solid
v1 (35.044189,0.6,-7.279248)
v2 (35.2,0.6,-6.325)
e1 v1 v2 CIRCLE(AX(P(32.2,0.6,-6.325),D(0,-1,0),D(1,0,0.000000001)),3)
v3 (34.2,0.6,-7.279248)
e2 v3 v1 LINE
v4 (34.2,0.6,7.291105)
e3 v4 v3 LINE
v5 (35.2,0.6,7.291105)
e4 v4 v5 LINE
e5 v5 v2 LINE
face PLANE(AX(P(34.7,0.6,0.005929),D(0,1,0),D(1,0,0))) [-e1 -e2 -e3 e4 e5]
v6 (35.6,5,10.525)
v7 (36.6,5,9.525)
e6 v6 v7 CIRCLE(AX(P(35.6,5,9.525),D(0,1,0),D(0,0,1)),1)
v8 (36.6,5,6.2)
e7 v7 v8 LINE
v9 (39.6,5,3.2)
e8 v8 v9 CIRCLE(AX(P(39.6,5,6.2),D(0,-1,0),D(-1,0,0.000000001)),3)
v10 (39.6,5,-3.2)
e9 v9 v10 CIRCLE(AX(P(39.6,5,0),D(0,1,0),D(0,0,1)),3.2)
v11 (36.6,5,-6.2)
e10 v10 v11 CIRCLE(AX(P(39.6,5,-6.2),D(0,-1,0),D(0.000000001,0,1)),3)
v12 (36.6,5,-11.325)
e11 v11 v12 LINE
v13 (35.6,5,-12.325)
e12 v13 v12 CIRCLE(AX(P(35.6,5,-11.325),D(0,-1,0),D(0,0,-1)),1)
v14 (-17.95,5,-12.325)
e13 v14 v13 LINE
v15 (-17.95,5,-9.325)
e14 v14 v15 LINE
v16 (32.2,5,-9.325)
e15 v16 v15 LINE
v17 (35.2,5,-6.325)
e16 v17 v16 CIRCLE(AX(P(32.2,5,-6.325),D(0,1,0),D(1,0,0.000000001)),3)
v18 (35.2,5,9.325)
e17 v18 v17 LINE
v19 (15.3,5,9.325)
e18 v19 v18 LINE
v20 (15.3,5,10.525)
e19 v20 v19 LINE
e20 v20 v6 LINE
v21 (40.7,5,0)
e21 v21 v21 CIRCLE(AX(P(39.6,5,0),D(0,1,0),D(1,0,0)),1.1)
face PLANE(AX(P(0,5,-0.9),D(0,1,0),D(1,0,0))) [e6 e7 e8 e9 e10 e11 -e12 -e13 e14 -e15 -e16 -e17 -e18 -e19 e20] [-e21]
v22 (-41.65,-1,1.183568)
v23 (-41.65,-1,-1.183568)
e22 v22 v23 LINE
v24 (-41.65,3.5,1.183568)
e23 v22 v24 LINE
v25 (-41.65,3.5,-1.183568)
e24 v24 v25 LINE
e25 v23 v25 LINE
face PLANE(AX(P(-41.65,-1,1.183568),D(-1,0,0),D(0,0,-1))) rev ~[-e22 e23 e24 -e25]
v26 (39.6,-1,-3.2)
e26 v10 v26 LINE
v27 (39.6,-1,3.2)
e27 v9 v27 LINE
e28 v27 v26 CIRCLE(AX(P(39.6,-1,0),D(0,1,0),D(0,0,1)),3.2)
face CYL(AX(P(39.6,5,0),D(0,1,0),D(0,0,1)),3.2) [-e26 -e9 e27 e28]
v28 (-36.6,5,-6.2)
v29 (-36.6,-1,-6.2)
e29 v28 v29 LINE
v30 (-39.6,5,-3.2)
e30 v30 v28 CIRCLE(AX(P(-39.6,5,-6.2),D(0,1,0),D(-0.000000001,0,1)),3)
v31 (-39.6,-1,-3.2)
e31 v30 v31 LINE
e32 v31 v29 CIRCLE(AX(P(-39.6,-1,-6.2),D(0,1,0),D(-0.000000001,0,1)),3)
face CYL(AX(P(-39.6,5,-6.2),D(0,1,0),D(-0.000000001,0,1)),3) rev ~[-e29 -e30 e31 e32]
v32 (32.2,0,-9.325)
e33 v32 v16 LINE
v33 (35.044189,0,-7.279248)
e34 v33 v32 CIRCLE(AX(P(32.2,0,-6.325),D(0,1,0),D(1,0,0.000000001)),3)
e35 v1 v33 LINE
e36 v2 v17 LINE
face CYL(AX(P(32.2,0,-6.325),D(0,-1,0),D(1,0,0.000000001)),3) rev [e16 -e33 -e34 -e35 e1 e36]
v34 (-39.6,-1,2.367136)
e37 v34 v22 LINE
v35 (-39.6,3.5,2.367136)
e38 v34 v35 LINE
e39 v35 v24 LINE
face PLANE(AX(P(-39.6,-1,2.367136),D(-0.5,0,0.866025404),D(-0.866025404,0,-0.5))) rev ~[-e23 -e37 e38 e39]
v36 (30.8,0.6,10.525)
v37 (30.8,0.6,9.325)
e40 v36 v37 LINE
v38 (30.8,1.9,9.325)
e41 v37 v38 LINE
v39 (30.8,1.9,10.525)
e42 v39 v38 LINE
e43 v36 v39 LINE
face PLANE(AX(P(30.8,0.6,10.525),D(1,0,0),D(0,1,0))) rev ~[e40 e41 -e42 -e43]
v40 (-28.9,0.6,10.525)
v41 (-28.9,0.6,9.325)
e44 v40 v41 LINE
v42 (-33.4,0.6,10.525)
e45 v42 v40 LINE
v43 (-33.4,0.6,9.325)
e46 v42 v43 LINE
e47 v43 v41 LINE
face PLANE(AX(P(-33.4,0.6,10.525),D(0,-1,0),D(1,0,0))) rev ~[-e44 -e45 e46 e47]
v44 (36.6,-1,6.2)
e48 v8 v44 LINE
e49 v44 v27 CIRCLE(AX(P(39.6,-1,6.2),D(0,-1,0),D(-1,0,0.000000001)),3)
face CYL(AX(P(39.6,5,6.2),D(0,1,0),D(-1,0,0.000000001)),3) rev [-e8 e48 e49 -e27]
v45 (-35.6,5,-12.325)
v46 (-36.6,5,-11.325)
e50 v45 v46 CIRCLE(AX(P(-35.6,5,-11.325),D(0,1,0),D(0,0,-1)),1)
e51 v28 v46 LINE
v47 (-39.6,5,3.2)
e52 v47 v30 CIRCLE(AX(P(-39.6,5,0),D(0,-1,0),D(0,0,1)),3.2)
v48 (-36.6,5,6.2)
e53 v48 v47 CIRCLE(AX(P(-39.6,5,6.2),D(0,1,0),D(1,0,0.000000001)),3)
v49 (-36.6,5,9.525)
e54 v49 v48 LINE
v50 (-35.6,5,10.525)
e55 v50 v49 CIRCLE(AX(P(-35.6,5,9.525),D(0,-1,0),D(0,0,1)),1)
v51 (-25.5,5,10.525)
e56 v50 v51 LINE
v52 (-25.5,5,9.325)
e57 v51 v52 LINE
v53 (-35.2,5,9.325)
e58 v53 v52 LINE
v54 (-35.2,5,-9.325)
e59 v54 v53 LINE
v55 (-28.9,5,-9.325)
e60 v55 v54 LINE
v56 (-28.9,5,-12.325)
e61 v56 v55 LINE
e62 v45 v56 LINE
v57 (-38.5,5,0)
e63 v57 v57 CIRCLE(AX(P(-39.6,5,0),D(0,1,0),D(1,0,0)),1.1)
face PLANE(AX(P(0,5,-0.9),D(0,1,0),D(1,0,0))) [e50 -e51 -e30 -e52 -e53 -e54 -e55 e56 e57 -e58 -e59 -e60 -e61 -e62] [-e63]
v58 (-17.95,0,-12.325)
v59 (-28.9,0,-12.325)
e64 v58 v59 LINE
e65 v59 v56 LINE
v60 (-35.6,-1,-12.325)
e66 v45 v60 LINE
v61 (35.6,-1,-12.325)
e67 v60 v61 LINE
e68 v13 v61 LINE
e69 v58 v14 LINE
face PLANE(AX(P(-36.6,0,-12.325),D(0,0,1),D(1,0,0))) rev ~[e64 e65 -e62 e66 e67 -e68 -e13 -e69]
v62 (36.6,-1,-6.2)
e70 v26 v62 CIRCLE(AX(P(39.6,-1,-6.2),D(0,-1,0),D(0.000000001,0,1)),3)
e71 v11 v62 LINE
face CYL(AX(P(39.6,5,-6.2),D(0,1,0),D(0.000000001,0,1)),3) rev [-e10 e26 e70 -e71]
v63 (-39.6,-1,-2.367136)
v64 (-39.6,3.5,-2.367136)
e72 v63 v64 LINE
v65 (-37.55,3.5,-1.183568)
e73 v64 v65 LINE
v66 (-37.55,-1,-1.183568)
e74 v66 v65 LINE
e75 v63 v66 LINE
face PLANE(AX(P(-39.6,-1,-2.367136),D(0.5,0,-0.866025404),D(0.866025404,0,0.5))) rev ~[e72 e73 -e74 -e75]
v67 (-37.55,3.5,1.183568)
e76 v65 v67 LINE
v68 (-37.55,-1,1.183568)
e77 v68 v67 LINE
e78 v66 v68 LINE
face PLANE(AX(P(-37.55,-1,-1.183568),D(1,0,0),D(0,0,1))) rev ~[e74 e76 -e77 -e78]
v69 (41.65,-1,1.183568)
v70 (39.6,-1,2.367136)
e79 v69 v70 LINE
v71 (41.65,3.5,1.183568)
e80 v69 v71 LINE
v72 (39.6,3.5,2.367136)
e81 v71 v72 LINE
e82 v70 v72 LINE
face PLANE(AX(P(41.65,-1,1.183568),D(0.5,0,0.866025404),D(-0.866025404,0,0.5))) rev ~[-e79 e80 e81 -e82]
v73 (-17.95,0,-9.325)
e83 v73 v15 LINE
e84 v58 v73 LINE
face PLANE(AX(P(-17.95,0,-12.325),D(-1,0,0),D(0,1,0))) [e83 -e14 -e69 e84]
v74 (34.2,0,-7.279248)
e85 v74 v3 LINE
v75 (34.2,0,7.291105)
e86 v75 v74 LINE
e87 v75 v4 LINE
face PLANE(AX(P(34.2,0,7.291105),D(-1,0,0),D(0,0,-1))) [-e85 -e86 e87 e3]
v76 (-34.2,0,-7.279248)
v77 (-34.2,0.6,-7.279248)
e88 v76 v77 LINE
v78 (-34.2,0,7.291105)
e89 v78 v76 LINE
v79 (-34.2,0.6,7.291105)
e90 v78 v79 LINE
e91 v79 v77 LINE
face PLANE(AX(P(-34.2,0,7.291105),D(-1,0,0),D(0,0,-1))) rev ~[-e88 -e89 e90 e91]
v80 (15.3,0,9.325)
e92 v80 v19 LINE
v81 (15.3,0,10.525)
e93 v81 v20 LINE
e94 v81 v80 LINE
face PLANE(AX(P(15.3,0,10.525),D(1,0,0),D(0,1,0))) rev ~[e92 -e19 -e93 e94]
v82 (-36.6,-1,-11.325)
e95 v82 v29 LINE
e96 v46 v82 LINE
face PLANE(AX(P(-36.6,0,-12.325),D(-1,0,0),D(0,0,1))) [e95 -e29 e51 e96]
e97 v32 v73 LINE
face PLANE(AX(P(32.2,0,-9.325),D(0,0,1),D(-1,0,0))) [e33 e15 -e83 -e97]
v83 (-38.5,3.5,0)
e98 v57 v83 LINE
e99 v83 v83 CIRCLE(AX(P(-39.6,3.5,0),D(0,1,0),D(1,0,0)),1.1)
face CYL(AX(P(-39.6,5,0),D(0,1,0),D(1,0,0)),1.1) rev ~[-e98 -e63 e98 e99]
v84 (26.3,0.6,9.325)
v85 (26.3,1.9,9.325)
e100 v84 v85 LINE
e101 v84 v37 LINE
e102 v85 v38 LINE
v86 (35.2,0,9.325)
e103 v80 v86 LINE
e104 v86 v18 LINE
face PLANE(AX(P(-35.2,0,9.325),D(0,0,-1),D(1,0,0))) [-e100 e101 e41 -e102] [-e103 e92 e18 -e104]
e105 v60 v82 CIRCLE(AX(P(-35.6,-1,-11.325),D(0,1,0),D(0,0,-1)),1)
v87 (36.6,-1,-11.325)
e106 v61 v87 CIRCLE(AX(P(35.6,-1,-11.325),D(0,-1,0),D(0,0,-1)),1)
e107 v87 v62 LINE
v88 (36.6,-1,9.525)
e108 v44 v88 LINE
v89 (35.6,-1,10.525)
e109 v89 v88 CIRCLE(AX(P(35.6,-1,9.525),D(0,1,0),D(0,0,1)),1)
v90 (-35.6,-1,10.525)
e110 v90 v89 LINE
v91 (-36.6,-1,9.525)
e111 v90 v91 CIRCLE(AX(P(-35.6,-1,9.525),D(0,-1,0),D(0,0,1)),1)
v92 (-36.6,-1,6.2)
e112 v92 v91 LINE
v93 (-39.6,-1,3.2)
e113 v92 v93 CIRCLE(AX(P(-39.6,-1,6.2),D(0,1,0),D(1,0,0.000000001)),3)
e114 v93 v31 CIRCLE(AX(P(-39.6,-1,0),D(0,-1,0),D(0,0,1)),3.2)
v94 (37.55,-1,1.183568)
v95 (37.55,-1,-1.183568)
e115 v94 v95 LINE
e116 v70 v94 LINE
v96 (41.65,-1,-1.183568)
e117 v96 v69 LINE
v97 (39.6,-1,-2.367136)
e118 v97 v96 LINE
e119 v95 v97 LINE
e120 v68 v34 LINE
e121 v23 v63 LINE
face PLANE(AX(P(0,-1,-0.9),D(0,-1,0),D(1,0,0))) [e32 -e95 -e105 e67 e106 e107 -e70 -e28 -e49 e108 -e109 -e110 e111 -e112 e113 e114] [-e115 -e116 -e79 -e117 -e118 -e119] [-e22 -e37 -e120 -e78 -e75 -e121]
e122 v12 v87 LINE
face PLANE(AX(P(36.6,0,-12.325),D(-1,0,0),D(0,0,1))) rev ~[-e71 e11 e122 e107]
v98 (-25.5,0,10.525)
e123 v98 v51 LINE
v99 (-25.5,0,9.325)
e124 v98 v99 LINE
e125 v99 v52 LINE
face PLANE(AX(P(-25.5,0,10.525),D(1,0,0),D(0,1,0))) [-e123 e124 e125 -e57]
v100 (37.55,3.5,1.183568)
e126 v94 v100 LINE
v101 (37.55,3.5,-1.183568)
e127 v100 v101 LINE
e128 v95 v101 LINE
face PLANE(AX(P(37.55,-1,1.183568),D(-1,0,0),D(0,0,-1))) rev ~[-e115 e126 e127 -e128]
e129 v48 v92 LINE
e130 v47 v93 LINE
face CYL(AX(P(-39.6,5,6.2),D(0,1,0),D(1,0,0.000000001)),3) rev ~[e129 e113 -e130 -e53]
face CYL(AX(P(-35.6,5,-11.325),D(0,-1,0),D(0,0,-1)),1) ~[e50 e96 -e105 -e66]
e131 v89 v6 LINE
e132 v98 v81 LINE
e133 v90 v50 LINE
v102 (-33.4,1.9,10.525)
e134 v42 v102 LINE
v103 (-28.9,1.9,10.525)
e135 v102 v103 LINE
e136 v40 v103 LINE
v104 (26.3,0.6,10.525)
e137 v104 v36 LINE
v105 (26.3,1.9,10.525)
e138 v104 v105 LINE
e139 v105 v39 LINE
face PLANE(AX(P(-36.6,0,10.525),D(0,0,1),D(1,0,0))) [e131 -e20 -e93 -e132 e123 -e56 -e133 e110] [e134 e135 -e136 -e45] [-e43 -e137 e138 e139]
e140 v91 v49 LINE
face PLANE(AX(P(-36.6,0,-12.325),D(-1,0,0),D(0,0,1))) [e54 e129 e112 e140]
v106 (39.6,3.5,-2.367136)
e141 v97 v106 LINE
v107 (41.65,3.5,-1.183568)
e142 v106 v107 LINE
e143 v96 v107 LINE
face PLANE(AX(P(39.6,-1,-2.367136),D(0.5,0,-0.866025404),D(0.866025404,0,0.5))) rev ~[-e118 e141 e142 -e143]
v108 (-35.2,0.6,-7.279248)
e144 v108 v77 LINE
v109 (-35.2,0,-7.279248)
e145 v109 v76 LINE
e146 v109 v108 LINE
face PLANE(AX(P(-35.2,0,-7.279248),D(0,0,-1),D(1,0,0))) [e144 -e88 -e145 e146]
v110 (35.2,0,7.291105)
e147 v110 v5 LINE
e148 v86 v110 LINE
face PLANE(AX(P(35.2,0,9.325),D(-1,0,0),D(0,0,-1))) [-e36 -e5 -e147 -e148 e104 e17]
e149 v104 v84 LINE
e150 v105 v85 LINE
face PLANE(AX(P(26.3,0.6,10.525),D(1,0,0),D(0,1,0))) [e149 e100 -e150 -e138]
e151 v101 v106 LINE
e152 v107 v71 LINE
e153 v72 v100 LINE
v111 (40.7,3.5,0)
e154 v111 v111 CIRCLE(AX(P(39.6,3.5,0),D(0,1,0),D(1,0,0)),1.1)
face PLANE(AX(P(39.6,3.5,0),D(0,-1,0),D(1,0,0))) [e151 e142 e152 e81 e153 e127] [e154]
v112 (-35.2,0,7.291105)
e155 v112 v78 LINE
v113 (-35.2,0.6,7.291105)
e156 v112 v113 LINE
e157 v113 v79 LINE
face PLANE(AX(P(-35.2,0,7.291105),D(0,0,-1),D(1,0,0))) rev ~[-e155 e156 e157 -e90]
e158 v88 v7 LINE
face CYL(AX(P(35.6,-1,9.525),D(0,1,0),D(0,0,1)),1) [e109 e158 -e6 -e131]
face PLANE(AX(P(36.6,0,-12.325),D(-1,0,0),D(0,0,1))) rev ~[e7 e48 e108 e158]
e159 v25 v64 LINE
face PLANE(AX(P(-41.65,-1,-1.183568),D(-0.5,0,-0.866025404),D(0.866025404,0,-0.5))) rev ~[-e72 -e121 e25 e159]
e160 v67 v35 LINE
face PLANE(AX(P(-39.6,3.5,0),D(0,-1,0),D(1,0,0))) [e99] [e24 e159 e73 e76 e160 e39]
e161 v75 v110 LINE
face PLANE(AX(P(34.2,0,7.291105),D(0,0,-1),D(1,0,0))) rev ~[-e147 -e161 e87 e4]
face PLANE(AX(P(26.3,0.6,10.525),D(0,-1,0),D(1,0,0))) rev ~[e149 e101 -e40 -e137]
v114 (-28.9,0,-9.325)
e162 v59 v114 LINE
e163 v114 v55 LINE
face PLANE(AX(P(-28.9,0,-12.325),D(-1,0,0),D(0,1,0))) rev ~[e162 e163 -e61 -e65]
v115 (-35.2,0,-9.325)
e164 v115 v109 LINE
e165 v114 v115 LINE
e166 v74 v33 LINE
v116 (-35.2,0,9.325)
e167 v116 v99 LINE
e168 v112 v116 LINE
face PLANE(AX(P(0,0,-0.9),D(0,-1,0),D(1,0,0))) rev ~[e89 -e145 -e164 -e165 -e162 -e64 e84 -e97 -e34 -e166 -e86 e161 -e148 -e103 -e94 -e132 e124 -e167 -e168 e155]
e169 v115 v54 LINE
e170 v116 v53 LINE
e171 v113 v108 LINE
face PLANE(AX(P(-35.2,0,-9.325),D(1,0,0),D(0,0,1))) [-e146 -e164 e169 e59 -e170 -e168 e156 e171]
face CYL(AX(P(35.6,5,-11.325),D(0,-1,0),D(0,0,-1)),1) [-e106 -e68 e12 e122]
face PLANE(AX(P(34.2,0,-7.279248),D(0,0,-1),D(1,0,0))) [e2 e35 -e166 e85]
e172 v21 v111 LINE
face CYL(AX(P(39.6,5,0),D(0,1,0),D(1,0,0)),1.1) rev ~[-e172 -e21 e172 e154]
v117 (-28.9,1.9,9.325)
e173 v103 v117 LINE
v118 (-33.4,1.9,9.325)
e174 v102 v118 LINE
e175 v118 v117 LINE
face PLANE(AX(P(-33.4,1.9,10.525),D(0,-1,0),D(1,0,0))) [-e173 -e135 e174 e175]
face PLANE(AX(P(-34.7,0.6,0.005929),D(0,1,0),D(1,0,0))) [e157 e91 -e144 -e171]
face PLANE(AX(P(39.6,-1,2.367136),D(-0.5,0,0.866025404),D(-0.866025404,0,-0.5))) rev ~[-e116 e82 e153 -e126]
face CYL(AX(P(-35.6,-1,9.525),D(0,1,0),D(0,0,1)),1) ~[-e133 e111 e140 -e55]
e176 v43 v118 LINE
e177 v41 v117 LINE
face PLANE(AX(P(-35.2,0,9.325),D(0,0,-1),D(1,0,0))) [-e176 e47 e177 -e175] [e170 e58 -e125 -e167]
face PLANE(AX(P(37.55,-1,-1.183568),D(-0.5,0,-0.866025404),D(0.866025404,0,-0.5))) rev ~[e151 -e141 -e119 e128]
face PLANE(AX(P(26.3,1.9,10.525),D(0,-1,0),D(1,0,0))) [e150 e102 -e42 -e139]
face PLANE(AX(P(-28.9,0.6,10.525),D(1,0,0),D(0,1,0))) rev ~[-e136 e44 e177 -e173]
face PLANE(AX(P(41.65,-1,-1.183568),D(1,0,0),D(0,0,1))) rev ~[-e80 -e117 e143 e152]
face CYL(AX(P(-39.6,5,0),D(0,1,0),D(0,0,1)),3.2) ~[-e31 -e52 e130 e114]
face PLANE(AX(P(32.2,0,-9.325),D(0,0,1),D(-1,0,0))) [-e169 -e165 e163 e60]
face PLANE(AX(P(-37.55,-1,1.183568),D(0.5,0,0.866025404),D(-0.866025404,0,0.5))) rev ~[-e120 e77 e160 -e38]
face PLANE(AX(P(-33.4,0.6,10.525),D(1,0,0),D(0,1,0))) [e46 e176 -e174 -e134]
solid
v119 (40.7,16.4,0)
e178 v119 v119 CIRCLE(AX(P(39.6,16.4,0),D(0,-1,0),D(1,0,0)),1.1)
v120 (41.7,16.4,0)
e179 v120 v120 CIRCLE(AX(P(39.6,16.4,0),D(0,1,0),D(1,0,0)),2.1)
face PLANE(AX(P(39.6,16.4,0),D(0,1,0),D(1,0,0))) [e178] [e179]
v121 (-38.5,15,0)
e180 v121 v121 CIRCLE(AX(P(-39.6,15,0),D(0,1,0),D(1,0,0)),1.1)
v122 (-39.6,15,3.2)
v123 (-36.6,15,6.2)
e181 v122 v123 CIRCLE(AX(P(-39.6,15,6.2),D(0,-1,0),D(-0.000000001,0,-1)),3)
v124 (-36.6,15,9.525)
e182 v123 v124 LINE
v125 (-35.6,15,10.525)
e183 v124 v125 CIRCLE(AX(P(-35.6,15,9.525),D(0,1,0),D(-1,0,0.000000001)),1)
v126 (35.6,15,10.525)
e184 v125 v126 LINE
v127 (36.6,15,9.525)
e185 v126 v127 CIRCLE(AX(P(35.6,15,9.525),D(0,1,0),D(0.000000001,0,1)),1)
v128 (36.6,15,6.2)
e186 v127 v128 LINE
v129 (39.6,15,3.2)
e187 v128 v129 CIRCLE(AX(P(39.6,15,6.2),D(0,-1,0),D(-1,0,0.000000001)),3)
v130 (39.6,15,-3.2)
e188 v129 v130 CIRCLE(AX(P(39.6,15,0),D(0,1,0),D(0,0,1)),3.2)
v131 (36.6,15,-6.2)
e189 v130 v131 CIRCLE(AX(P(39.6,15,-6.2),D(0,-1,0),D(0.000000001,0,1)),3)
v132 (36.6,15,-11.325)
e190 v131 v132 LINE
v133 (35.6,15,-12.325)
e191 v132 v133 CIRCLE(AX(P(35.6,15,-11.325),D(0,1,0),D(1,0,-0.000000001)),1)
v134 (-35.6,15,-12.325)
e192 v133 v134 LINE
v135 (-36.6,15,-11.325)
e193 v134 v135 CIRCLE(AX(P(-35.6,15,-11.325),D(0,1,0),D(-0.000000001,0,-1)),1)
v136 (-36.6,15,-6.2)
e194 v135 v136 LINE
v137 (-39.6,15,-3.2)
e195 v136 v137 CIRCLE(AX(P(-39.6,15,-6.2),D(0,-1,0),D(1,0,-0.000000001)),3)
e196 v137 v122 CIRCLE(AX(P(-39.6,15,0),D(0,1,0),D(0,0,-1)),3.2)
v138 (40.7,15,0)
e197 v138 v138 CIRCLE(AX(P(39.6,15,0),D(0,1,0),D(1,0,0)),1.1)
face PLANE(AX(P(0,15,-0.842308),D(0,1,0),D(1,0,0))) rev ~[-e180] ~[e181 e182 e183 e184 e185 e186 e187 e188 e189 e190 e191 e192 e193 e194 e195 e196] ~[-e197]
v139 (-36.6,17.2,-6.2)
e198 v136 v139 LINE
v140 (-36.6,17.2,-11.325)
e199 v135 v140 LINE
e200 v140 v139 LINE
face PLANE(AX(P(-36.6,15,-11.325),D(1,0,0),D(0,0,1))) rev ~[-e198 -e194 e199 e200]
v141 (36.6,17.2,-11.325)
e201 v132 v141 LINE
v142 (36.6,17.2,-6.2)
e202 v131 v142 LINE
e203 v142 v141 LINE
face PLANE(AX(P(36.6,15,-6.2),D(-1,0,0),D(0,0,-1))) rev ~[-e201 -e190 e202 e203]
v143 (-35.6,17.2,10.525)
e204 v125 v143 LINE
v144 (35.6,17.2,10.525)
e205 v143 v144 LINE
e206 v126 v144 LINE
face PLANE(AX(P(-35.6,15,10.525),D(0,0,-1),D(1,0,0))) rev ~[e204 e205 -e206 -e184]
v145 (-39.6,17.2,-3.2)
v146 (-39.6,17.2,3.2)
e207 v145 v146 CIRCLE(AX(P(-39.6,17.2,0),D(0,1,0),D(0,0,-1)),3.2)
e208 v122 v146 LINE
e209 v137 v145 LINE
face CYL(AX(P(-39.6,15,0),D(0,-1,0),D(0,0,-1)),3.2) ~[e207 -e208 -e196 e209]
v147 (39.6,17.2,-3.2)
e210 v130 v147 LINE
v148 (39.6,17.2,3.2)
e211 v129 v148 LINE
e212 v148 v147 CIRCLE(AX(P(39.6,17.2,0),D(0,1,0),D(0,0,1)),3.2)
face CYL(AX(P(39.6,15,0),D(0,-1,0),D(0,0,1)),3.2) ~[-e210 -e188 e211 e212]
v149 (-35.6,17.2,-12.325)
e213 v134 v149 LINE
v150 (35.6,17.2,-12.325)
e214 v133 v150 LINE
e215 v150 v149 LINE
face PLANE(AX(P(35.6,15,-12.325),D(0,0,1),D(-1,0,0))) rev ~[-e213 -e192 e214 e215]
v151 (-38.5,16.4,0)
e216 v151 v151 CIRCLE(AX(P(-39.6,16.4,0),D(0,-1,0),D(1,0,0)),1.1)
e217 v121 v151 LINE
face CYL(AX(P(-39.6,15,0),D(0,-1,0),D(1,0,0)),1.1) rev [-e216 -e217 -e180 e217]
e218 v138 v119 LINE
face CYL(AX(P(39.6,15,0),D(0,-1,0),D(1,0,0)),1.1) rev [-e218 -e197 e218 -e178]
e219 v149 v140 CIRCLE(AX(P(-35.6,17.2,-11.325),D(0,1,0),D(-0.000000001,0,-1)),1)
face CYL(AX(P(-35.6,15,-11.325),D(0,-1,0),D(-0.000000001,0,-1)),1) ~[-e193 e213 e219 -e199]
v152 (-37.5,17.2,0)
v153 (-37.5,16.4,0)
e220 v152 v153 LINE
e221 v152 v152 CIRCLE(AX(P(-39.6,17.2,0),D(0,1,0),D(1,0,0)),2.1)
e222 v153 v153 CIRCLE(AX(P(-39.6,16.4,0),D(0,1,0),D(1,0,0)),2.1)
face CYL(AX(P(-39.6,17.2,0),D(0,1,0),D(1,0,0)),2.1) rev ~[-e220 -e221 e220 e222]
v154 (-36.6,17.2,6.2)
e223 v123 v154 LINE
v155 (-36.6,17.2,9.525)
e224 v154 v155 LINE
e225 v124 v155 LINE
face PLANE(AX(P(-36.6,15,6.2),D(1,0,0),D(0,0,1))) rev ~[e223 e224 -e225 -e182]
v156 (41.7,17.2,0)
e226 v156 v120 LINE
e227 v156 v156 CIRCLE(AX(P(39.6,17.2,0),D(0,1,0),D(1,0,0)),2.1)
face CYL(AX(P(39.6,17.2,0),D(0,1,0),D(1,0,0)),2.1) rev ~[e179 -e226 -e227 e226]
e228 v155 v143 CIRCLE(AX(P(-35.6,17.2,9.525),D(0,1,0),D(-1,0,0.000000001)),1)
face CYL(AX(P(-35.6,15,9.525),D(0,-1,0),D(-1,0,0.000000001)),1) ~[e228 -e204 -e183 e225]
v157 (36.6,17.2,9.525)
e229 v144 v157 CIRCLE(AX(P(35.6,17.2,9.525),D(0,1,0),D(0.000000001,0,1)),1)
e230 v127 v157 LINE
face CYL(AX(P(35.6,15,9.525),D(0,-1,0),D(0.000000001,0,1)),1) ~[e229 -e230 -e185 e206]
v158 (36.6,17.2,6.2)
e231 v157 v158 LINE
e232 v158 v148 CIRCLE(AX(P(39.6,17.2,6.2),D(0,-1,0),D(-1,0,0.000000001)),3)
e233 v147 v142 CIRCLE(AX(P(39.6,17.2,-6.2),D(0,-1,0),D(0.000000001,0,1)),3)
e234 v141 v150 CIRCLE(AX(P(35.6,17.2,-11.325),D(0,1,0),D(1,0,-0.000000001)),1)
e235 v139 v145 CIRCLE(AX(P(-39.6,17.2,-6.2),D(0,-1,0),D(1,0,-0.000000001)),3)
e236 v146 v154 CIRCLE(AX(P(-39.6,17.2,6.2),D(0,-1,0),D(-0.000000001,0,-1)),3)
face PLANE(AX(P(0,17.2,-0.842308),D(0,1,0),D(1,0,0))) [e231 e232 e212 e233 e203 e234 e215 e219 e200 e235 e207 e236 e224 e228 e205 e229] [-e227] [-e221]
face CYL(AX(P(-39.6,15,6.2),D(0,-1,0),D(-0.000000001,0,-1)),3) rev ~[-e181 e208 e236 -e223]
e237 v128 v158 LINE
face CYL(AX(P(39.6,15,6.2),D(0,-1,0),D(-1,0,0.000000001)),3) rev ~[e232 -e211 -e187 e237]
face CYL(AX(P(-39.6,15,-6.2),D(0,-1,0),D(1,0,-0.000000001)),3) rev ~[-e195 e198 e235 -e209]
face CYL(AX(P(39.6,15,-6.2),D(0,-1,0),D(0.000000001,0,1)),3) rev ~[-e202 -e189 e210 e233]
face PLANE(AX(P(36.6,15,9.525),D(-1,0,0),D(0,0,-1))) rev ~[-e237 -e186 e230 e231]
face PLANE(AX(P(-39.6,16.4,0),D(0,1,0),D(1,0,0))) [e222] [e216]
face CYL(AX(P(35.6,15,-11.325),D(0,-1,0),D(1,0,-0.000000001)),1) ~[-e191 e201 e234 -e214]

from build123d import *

# Parameters (mm, degrees)
SKETCH_1_W          = 73.2
SKETCH_1_H          = 22.85
EXTRUDE_1_DEPTH     = 5
SKETCH_2_W          = 73.2
SKETCH_2_H          = 22.85
EXTRUDE_2_DEPTH     = 1
SKETCH_3_W          = 1
SKETCH_3_H          = 14.570353531
EXTRUDE_3_DEPTH     = 0.6
CUT_EXTRUDE_1_REACH = 24.85
SKETCH_4_W          = 10.95
SKETCH_4_H          = 5
CUT_EXTRUDE_2_REACH = 24.85
SKETCH_5_W          = 40.8
SKETCH_5_H          = 5
SKETCH_5_W_2        = 4.5
SKETCH_5_H_2        = 1.3
FILLET_1_R          = 1
SKETCH_6_R          = 1.1
EXTRUDE_4_DEPTH     = 6
CUT_EXTRUDE_3_DEPTH = 4.5
SKETCH_8_R          = 1.1
EXTRUDE_5_DEPTH     = 2.2
SKETCH_9_R          = 2.1
CUT_EXTRUDE_4_DEPTH = 0.8


with BuildPart() as part:
    # 草图1 → 凸台-拉伸1 (new body)
    with BuildSketch(Plane(origin=(0, 0, 0), x_dir=(1, 0, 0), z_dir=(0, 1, 0))):
        with Locations((0, 0.9)):
            Rectangle(SKETCH_1_W, SKETCH_1_H)
        with BuildLine():
            Line((-35.2, -9.325), (35.2, -9.325))
            Line((35.2, -9.325), (35.2, 6.325))
            ThreePointArc((35.2, 6.325), (34.321320344, 8.446320344), (32.2, 9.325))
            Line((32.2, 9.325), (-35.2, 9.325))
            Line((-35.2, 9.325), (-35.2, -9.325))
        make_face(mode=Mode.SUBTRACT)
    extrude(amount=EXTRUDE_1_DEPTH)

    # 草图2 → 凸台-拉伸2 (add)
    with BuildSketch(Plane.XZ):
        with Locations((0, -0.9)):
            Rectangle(SKETCH_2_W, SKETCH_2_H)
    extrude(amount=EXTRUDE_2_DEPTH)

    # 草图3 → 凸台-拉伸3 (add)
    with BuildSketch(Plane(origin=(0, 0, 0), x_dir=(1, 0, 0), z_dir=(0, 1, 0))):
        with Locations((-34.7, -0.005928717)):
            Rectangle(SKETCH_3_W, SKETCH_3_H)
        with Locations((34.7, -0.005928717)):
            Rectangle(SKETCH_3_W, SKETCH_3_H)
    extrude(amount=EXTRUDE_3_DEPTH)

    # 草图4 → 切除-拉伸1 (cut, up to next)
    with BuildSketch(Plane(origin=(0, 0, -12.325), x_dir=(-1, 0, 0), z_dir=(0, 0, -1)), mode=Mode.PRIVATE) as cut_extrude_1_sk1:
        with Locations((23.425, 2.5)):
            Rectangle(SKETCH_4_W, SKETCH_4_H)
    cut_extrude_1_tool1 = extrude(cut_extrude_1_sk1.sketch, amount=-CUT_EXTRUDE_1_REACH, mode=Mode.PRIVATE) & part.part
    add(cut_extrude_1_tool1.solids().sort_by_distance((-23.425, 2.5, -12.325))[0], mode=Mode.SUBTRACT)

    # 草图5 → 切除-拉伸2 (cut, up to next)
    with BuildSketch(Plane.XY.offset(10.525), mode=Mode.PRIVATE) as cut_extrude_2_sk1:
        with Locations((-5.1, 2.5)):
            Rectangle(SKETCH_5_W, SKETCH_5_H)
    cut_extrude_2_tool1 = extrude(cut_extrude_2_sk1.sketch, amount=-CUT_EXTRUDE_2_REACH, mode=Mode.PRIVATE) & part.part
    add(cut_extrude_2_tool1.solids().sort_by_distance((-5.1, 2.5, 10.525))[0], mode=Mode.SUBTRACT)
    # 草图5 → 切除-拉伸2 (cut, up to next)
    with BuildSketch(Plane.XY.offset(10.525), mode=Mode.PRIVATE) as cut_extrude_2_sk2:
        with Locations((-31.15, 1.25)):
            Rectangle(SKETCH_5_W_2, SKETCH_5_H_2)
    cut_extrude_2_tool2 = extrude(cut_extrude_2_sk2.sketch, amount=-CUT_EXTRUDE_2_REACH, mode=Mode.PRIVATE) & part.part
    add(cut_extrude_2_tool2.solids().sort_by_distance((-31.15, 1.25, 10.525))[0], mode=Mode.SUBTRACT)
    # 草图5 → 切除-拉伸2 (cut, up to next)
    with BuildSketch(Plane.XY.offset(10.525), mode=Mode.PRIVATE) as cut_extrude_2_sk3:
        with Locations((28.55, 1.25)):
            Rectangle(SKETCH_5_W_2, SKETCH_5_H_2)
    cut_extrude_2_tool3 = extrude(cut_extrude_2_sk3.sketch, amount=-CUT_EXTRUDE_2_REACH, mode=Mode.PRIVATE) & part.part
    add(cut_extrude_2_tool3.solids().sort_by_distance((28.55, 1.25, 10.525))[0], mode=Mode.SUBTRACT)

    # 圆角1
    fillet_1_edges = [part.edges().sort_by_distance(p)[0] for p in [
        (-36.6, 2, -12.325),
        (36.6, 2, -12.325),
        (36.6, 2, 10.525),
        (-36.6, 2, 10.525),
    ]]
    fillet(fillet_1_edges, radius=FILLET_1_R)

    # 草图6 → 凸台-拉伸4 (add)
    with BuildSketch(Plane(origin=(0, 5, 0), x_dir=(1, 0, 0), z_dir=(0, 1, 0))):
        with BuildLine():
            Line((-36.6, 6.2), (-36.6, -6.2))
            ThreePointArc((-36.6, -6.2), (-37.478679656, -4.078679656), (-39.6, -3.2))
            ThreePointArc((-39.6, -3.2), (-42.8, 0), (-39.6, 3.2))
            ThreePointArc((-39.6, 3.2), (-37.478679656, 4.078679656), (-36.6, 6.2))
        make_face()
        with Locations((-39.6, 0)):
            Circle(SKETCH_6_R, mode=Mode.SUBTRACT)
        with BuildLine():
            Line((36.6, 6.2), (36.6, -6.2))
            ThreePointArc((36.6, -6.2), (37.478679656, -4.078679656), (39.6, -3.2))
            ThreePointArc((39.6, -3.2), (42.8, 0), (39.6, 3.2))
            ThreePointArc((39.6, 3.2), (37.478679656, 4.078679656), (36.6, 6.2))
        make_face()
        with Locations((39.6, 0)):
            Circle(SKETCH_6_R, mode=Mode.SUBTRACT)
    extrude(amount=-EXTRUDE_4_DEPTH)

    # 草图7 → 切除-拉伸3 (cut)
    with BuildSketch(Plane.XZ.offset(1)):
        Polygon((-37.55, 1.183568052), (-39.6, 2.367136104), (-41.65, 1.183568052), (-41.65, -1.183568052), (-39.6, -2.367136104), (-37.55, -1.183568052), align=None)
        Polygon((39.6, 2.367136104), (37.55, 1.183568052), (37.55, -1.183568052), (39.6, -2.367136104), (41.65, -1.183568052), (41.65, 1.183568052), align=None)
    extrude(amount=-CUT_EXTRUDE_3_DEPTH, mode=Mode.SUBTRACT)


with BuildPart() as body_2:
    # 草图8 → 凸台-拉伸5 (new body)
    with BuildSketch(Plane(origin=(0, 15, 0), x_dir=(1, 0, 0), z_dir=(0, 1, 0))):
        with BuildLine():
            Line((36.6, -9.525), (36.6, -6.2))
            ThreePointArc((36.6, -6.2), (37.478679656, -4.078679656), (39.6, -3.2))
            ThreePointArc((39.6, -3.2), (42.8, 0), (39.6, 3.2))
            ThreePointArc((39.6, 3.2), (37.478679656, 4.078679656), (36.6, 6.2))
            Line((36.6, 6.2), (36.6, 11.325))
            ThreePointArc((36.6, 11.325), (36.307106781, 12.032106781), (35.6, 12.325))
            Line((35.6, 12.325), (-35.6, 12.325))
            ThreePointArc((-35.6, 12.325), (-36.307106781, 12.032106781), (-36.6, 11.325))
            Line((-36.6, 11.325), (-36.6, 6.2))
            ThreePointArc((-36.6, 6.2), (-37.478679656, 4.078679656), (-39.6, 3.2))
            ThreePointArc((-39.6, 3.2), (-42.8, 0), (-39.6, -3.2))
            ThreePointArc((-39.6, -3.2), (-37.478679656, -4.078679656), (-36.6, -6.2))
            Line((-36.6, -6.2), (-36.6, -9.525))
            ThreePointArc((-36.6, -9.525), (-36.307106781, -10.232106781), (-35.6, -10.525))
            Line((-35.6, -10.525), (35.6, -10.525))
            ThreePointArc((35.6, -10.525), (36.307106781, -10.232106781), (36.6, -9.525))
        make_face()
        with Locations((39.6, 0)):
            Circle(SKETCH_8_R, mode=Mode.SUBTRACT)
        with Locations((-39.6, 0)):
            Circle(SKETCH_8_R, mode=Mode.SUBTRACT)
    extrude(amount=EXTRUDE_5_DEPTH)

    # 草图9 → 切除-拉伸4 (cut)
    with BuildSketch(Plane(origin=(0, 17.2, 0), x_dir=(1, 0, 0), z_dir=(0, 1, 0))):
        with Locations((-39.6, 0)):
            Circle(SKETCH_9_R)
        with Locations((39.6, 0)):
            Circle(SKETCH_9_R)
    extrude(amount=-CUT_EXTRUDE_4_DEPTH, mode=Mode.SUBTRACT)


solid = Compound([part.part, body_2.part])
